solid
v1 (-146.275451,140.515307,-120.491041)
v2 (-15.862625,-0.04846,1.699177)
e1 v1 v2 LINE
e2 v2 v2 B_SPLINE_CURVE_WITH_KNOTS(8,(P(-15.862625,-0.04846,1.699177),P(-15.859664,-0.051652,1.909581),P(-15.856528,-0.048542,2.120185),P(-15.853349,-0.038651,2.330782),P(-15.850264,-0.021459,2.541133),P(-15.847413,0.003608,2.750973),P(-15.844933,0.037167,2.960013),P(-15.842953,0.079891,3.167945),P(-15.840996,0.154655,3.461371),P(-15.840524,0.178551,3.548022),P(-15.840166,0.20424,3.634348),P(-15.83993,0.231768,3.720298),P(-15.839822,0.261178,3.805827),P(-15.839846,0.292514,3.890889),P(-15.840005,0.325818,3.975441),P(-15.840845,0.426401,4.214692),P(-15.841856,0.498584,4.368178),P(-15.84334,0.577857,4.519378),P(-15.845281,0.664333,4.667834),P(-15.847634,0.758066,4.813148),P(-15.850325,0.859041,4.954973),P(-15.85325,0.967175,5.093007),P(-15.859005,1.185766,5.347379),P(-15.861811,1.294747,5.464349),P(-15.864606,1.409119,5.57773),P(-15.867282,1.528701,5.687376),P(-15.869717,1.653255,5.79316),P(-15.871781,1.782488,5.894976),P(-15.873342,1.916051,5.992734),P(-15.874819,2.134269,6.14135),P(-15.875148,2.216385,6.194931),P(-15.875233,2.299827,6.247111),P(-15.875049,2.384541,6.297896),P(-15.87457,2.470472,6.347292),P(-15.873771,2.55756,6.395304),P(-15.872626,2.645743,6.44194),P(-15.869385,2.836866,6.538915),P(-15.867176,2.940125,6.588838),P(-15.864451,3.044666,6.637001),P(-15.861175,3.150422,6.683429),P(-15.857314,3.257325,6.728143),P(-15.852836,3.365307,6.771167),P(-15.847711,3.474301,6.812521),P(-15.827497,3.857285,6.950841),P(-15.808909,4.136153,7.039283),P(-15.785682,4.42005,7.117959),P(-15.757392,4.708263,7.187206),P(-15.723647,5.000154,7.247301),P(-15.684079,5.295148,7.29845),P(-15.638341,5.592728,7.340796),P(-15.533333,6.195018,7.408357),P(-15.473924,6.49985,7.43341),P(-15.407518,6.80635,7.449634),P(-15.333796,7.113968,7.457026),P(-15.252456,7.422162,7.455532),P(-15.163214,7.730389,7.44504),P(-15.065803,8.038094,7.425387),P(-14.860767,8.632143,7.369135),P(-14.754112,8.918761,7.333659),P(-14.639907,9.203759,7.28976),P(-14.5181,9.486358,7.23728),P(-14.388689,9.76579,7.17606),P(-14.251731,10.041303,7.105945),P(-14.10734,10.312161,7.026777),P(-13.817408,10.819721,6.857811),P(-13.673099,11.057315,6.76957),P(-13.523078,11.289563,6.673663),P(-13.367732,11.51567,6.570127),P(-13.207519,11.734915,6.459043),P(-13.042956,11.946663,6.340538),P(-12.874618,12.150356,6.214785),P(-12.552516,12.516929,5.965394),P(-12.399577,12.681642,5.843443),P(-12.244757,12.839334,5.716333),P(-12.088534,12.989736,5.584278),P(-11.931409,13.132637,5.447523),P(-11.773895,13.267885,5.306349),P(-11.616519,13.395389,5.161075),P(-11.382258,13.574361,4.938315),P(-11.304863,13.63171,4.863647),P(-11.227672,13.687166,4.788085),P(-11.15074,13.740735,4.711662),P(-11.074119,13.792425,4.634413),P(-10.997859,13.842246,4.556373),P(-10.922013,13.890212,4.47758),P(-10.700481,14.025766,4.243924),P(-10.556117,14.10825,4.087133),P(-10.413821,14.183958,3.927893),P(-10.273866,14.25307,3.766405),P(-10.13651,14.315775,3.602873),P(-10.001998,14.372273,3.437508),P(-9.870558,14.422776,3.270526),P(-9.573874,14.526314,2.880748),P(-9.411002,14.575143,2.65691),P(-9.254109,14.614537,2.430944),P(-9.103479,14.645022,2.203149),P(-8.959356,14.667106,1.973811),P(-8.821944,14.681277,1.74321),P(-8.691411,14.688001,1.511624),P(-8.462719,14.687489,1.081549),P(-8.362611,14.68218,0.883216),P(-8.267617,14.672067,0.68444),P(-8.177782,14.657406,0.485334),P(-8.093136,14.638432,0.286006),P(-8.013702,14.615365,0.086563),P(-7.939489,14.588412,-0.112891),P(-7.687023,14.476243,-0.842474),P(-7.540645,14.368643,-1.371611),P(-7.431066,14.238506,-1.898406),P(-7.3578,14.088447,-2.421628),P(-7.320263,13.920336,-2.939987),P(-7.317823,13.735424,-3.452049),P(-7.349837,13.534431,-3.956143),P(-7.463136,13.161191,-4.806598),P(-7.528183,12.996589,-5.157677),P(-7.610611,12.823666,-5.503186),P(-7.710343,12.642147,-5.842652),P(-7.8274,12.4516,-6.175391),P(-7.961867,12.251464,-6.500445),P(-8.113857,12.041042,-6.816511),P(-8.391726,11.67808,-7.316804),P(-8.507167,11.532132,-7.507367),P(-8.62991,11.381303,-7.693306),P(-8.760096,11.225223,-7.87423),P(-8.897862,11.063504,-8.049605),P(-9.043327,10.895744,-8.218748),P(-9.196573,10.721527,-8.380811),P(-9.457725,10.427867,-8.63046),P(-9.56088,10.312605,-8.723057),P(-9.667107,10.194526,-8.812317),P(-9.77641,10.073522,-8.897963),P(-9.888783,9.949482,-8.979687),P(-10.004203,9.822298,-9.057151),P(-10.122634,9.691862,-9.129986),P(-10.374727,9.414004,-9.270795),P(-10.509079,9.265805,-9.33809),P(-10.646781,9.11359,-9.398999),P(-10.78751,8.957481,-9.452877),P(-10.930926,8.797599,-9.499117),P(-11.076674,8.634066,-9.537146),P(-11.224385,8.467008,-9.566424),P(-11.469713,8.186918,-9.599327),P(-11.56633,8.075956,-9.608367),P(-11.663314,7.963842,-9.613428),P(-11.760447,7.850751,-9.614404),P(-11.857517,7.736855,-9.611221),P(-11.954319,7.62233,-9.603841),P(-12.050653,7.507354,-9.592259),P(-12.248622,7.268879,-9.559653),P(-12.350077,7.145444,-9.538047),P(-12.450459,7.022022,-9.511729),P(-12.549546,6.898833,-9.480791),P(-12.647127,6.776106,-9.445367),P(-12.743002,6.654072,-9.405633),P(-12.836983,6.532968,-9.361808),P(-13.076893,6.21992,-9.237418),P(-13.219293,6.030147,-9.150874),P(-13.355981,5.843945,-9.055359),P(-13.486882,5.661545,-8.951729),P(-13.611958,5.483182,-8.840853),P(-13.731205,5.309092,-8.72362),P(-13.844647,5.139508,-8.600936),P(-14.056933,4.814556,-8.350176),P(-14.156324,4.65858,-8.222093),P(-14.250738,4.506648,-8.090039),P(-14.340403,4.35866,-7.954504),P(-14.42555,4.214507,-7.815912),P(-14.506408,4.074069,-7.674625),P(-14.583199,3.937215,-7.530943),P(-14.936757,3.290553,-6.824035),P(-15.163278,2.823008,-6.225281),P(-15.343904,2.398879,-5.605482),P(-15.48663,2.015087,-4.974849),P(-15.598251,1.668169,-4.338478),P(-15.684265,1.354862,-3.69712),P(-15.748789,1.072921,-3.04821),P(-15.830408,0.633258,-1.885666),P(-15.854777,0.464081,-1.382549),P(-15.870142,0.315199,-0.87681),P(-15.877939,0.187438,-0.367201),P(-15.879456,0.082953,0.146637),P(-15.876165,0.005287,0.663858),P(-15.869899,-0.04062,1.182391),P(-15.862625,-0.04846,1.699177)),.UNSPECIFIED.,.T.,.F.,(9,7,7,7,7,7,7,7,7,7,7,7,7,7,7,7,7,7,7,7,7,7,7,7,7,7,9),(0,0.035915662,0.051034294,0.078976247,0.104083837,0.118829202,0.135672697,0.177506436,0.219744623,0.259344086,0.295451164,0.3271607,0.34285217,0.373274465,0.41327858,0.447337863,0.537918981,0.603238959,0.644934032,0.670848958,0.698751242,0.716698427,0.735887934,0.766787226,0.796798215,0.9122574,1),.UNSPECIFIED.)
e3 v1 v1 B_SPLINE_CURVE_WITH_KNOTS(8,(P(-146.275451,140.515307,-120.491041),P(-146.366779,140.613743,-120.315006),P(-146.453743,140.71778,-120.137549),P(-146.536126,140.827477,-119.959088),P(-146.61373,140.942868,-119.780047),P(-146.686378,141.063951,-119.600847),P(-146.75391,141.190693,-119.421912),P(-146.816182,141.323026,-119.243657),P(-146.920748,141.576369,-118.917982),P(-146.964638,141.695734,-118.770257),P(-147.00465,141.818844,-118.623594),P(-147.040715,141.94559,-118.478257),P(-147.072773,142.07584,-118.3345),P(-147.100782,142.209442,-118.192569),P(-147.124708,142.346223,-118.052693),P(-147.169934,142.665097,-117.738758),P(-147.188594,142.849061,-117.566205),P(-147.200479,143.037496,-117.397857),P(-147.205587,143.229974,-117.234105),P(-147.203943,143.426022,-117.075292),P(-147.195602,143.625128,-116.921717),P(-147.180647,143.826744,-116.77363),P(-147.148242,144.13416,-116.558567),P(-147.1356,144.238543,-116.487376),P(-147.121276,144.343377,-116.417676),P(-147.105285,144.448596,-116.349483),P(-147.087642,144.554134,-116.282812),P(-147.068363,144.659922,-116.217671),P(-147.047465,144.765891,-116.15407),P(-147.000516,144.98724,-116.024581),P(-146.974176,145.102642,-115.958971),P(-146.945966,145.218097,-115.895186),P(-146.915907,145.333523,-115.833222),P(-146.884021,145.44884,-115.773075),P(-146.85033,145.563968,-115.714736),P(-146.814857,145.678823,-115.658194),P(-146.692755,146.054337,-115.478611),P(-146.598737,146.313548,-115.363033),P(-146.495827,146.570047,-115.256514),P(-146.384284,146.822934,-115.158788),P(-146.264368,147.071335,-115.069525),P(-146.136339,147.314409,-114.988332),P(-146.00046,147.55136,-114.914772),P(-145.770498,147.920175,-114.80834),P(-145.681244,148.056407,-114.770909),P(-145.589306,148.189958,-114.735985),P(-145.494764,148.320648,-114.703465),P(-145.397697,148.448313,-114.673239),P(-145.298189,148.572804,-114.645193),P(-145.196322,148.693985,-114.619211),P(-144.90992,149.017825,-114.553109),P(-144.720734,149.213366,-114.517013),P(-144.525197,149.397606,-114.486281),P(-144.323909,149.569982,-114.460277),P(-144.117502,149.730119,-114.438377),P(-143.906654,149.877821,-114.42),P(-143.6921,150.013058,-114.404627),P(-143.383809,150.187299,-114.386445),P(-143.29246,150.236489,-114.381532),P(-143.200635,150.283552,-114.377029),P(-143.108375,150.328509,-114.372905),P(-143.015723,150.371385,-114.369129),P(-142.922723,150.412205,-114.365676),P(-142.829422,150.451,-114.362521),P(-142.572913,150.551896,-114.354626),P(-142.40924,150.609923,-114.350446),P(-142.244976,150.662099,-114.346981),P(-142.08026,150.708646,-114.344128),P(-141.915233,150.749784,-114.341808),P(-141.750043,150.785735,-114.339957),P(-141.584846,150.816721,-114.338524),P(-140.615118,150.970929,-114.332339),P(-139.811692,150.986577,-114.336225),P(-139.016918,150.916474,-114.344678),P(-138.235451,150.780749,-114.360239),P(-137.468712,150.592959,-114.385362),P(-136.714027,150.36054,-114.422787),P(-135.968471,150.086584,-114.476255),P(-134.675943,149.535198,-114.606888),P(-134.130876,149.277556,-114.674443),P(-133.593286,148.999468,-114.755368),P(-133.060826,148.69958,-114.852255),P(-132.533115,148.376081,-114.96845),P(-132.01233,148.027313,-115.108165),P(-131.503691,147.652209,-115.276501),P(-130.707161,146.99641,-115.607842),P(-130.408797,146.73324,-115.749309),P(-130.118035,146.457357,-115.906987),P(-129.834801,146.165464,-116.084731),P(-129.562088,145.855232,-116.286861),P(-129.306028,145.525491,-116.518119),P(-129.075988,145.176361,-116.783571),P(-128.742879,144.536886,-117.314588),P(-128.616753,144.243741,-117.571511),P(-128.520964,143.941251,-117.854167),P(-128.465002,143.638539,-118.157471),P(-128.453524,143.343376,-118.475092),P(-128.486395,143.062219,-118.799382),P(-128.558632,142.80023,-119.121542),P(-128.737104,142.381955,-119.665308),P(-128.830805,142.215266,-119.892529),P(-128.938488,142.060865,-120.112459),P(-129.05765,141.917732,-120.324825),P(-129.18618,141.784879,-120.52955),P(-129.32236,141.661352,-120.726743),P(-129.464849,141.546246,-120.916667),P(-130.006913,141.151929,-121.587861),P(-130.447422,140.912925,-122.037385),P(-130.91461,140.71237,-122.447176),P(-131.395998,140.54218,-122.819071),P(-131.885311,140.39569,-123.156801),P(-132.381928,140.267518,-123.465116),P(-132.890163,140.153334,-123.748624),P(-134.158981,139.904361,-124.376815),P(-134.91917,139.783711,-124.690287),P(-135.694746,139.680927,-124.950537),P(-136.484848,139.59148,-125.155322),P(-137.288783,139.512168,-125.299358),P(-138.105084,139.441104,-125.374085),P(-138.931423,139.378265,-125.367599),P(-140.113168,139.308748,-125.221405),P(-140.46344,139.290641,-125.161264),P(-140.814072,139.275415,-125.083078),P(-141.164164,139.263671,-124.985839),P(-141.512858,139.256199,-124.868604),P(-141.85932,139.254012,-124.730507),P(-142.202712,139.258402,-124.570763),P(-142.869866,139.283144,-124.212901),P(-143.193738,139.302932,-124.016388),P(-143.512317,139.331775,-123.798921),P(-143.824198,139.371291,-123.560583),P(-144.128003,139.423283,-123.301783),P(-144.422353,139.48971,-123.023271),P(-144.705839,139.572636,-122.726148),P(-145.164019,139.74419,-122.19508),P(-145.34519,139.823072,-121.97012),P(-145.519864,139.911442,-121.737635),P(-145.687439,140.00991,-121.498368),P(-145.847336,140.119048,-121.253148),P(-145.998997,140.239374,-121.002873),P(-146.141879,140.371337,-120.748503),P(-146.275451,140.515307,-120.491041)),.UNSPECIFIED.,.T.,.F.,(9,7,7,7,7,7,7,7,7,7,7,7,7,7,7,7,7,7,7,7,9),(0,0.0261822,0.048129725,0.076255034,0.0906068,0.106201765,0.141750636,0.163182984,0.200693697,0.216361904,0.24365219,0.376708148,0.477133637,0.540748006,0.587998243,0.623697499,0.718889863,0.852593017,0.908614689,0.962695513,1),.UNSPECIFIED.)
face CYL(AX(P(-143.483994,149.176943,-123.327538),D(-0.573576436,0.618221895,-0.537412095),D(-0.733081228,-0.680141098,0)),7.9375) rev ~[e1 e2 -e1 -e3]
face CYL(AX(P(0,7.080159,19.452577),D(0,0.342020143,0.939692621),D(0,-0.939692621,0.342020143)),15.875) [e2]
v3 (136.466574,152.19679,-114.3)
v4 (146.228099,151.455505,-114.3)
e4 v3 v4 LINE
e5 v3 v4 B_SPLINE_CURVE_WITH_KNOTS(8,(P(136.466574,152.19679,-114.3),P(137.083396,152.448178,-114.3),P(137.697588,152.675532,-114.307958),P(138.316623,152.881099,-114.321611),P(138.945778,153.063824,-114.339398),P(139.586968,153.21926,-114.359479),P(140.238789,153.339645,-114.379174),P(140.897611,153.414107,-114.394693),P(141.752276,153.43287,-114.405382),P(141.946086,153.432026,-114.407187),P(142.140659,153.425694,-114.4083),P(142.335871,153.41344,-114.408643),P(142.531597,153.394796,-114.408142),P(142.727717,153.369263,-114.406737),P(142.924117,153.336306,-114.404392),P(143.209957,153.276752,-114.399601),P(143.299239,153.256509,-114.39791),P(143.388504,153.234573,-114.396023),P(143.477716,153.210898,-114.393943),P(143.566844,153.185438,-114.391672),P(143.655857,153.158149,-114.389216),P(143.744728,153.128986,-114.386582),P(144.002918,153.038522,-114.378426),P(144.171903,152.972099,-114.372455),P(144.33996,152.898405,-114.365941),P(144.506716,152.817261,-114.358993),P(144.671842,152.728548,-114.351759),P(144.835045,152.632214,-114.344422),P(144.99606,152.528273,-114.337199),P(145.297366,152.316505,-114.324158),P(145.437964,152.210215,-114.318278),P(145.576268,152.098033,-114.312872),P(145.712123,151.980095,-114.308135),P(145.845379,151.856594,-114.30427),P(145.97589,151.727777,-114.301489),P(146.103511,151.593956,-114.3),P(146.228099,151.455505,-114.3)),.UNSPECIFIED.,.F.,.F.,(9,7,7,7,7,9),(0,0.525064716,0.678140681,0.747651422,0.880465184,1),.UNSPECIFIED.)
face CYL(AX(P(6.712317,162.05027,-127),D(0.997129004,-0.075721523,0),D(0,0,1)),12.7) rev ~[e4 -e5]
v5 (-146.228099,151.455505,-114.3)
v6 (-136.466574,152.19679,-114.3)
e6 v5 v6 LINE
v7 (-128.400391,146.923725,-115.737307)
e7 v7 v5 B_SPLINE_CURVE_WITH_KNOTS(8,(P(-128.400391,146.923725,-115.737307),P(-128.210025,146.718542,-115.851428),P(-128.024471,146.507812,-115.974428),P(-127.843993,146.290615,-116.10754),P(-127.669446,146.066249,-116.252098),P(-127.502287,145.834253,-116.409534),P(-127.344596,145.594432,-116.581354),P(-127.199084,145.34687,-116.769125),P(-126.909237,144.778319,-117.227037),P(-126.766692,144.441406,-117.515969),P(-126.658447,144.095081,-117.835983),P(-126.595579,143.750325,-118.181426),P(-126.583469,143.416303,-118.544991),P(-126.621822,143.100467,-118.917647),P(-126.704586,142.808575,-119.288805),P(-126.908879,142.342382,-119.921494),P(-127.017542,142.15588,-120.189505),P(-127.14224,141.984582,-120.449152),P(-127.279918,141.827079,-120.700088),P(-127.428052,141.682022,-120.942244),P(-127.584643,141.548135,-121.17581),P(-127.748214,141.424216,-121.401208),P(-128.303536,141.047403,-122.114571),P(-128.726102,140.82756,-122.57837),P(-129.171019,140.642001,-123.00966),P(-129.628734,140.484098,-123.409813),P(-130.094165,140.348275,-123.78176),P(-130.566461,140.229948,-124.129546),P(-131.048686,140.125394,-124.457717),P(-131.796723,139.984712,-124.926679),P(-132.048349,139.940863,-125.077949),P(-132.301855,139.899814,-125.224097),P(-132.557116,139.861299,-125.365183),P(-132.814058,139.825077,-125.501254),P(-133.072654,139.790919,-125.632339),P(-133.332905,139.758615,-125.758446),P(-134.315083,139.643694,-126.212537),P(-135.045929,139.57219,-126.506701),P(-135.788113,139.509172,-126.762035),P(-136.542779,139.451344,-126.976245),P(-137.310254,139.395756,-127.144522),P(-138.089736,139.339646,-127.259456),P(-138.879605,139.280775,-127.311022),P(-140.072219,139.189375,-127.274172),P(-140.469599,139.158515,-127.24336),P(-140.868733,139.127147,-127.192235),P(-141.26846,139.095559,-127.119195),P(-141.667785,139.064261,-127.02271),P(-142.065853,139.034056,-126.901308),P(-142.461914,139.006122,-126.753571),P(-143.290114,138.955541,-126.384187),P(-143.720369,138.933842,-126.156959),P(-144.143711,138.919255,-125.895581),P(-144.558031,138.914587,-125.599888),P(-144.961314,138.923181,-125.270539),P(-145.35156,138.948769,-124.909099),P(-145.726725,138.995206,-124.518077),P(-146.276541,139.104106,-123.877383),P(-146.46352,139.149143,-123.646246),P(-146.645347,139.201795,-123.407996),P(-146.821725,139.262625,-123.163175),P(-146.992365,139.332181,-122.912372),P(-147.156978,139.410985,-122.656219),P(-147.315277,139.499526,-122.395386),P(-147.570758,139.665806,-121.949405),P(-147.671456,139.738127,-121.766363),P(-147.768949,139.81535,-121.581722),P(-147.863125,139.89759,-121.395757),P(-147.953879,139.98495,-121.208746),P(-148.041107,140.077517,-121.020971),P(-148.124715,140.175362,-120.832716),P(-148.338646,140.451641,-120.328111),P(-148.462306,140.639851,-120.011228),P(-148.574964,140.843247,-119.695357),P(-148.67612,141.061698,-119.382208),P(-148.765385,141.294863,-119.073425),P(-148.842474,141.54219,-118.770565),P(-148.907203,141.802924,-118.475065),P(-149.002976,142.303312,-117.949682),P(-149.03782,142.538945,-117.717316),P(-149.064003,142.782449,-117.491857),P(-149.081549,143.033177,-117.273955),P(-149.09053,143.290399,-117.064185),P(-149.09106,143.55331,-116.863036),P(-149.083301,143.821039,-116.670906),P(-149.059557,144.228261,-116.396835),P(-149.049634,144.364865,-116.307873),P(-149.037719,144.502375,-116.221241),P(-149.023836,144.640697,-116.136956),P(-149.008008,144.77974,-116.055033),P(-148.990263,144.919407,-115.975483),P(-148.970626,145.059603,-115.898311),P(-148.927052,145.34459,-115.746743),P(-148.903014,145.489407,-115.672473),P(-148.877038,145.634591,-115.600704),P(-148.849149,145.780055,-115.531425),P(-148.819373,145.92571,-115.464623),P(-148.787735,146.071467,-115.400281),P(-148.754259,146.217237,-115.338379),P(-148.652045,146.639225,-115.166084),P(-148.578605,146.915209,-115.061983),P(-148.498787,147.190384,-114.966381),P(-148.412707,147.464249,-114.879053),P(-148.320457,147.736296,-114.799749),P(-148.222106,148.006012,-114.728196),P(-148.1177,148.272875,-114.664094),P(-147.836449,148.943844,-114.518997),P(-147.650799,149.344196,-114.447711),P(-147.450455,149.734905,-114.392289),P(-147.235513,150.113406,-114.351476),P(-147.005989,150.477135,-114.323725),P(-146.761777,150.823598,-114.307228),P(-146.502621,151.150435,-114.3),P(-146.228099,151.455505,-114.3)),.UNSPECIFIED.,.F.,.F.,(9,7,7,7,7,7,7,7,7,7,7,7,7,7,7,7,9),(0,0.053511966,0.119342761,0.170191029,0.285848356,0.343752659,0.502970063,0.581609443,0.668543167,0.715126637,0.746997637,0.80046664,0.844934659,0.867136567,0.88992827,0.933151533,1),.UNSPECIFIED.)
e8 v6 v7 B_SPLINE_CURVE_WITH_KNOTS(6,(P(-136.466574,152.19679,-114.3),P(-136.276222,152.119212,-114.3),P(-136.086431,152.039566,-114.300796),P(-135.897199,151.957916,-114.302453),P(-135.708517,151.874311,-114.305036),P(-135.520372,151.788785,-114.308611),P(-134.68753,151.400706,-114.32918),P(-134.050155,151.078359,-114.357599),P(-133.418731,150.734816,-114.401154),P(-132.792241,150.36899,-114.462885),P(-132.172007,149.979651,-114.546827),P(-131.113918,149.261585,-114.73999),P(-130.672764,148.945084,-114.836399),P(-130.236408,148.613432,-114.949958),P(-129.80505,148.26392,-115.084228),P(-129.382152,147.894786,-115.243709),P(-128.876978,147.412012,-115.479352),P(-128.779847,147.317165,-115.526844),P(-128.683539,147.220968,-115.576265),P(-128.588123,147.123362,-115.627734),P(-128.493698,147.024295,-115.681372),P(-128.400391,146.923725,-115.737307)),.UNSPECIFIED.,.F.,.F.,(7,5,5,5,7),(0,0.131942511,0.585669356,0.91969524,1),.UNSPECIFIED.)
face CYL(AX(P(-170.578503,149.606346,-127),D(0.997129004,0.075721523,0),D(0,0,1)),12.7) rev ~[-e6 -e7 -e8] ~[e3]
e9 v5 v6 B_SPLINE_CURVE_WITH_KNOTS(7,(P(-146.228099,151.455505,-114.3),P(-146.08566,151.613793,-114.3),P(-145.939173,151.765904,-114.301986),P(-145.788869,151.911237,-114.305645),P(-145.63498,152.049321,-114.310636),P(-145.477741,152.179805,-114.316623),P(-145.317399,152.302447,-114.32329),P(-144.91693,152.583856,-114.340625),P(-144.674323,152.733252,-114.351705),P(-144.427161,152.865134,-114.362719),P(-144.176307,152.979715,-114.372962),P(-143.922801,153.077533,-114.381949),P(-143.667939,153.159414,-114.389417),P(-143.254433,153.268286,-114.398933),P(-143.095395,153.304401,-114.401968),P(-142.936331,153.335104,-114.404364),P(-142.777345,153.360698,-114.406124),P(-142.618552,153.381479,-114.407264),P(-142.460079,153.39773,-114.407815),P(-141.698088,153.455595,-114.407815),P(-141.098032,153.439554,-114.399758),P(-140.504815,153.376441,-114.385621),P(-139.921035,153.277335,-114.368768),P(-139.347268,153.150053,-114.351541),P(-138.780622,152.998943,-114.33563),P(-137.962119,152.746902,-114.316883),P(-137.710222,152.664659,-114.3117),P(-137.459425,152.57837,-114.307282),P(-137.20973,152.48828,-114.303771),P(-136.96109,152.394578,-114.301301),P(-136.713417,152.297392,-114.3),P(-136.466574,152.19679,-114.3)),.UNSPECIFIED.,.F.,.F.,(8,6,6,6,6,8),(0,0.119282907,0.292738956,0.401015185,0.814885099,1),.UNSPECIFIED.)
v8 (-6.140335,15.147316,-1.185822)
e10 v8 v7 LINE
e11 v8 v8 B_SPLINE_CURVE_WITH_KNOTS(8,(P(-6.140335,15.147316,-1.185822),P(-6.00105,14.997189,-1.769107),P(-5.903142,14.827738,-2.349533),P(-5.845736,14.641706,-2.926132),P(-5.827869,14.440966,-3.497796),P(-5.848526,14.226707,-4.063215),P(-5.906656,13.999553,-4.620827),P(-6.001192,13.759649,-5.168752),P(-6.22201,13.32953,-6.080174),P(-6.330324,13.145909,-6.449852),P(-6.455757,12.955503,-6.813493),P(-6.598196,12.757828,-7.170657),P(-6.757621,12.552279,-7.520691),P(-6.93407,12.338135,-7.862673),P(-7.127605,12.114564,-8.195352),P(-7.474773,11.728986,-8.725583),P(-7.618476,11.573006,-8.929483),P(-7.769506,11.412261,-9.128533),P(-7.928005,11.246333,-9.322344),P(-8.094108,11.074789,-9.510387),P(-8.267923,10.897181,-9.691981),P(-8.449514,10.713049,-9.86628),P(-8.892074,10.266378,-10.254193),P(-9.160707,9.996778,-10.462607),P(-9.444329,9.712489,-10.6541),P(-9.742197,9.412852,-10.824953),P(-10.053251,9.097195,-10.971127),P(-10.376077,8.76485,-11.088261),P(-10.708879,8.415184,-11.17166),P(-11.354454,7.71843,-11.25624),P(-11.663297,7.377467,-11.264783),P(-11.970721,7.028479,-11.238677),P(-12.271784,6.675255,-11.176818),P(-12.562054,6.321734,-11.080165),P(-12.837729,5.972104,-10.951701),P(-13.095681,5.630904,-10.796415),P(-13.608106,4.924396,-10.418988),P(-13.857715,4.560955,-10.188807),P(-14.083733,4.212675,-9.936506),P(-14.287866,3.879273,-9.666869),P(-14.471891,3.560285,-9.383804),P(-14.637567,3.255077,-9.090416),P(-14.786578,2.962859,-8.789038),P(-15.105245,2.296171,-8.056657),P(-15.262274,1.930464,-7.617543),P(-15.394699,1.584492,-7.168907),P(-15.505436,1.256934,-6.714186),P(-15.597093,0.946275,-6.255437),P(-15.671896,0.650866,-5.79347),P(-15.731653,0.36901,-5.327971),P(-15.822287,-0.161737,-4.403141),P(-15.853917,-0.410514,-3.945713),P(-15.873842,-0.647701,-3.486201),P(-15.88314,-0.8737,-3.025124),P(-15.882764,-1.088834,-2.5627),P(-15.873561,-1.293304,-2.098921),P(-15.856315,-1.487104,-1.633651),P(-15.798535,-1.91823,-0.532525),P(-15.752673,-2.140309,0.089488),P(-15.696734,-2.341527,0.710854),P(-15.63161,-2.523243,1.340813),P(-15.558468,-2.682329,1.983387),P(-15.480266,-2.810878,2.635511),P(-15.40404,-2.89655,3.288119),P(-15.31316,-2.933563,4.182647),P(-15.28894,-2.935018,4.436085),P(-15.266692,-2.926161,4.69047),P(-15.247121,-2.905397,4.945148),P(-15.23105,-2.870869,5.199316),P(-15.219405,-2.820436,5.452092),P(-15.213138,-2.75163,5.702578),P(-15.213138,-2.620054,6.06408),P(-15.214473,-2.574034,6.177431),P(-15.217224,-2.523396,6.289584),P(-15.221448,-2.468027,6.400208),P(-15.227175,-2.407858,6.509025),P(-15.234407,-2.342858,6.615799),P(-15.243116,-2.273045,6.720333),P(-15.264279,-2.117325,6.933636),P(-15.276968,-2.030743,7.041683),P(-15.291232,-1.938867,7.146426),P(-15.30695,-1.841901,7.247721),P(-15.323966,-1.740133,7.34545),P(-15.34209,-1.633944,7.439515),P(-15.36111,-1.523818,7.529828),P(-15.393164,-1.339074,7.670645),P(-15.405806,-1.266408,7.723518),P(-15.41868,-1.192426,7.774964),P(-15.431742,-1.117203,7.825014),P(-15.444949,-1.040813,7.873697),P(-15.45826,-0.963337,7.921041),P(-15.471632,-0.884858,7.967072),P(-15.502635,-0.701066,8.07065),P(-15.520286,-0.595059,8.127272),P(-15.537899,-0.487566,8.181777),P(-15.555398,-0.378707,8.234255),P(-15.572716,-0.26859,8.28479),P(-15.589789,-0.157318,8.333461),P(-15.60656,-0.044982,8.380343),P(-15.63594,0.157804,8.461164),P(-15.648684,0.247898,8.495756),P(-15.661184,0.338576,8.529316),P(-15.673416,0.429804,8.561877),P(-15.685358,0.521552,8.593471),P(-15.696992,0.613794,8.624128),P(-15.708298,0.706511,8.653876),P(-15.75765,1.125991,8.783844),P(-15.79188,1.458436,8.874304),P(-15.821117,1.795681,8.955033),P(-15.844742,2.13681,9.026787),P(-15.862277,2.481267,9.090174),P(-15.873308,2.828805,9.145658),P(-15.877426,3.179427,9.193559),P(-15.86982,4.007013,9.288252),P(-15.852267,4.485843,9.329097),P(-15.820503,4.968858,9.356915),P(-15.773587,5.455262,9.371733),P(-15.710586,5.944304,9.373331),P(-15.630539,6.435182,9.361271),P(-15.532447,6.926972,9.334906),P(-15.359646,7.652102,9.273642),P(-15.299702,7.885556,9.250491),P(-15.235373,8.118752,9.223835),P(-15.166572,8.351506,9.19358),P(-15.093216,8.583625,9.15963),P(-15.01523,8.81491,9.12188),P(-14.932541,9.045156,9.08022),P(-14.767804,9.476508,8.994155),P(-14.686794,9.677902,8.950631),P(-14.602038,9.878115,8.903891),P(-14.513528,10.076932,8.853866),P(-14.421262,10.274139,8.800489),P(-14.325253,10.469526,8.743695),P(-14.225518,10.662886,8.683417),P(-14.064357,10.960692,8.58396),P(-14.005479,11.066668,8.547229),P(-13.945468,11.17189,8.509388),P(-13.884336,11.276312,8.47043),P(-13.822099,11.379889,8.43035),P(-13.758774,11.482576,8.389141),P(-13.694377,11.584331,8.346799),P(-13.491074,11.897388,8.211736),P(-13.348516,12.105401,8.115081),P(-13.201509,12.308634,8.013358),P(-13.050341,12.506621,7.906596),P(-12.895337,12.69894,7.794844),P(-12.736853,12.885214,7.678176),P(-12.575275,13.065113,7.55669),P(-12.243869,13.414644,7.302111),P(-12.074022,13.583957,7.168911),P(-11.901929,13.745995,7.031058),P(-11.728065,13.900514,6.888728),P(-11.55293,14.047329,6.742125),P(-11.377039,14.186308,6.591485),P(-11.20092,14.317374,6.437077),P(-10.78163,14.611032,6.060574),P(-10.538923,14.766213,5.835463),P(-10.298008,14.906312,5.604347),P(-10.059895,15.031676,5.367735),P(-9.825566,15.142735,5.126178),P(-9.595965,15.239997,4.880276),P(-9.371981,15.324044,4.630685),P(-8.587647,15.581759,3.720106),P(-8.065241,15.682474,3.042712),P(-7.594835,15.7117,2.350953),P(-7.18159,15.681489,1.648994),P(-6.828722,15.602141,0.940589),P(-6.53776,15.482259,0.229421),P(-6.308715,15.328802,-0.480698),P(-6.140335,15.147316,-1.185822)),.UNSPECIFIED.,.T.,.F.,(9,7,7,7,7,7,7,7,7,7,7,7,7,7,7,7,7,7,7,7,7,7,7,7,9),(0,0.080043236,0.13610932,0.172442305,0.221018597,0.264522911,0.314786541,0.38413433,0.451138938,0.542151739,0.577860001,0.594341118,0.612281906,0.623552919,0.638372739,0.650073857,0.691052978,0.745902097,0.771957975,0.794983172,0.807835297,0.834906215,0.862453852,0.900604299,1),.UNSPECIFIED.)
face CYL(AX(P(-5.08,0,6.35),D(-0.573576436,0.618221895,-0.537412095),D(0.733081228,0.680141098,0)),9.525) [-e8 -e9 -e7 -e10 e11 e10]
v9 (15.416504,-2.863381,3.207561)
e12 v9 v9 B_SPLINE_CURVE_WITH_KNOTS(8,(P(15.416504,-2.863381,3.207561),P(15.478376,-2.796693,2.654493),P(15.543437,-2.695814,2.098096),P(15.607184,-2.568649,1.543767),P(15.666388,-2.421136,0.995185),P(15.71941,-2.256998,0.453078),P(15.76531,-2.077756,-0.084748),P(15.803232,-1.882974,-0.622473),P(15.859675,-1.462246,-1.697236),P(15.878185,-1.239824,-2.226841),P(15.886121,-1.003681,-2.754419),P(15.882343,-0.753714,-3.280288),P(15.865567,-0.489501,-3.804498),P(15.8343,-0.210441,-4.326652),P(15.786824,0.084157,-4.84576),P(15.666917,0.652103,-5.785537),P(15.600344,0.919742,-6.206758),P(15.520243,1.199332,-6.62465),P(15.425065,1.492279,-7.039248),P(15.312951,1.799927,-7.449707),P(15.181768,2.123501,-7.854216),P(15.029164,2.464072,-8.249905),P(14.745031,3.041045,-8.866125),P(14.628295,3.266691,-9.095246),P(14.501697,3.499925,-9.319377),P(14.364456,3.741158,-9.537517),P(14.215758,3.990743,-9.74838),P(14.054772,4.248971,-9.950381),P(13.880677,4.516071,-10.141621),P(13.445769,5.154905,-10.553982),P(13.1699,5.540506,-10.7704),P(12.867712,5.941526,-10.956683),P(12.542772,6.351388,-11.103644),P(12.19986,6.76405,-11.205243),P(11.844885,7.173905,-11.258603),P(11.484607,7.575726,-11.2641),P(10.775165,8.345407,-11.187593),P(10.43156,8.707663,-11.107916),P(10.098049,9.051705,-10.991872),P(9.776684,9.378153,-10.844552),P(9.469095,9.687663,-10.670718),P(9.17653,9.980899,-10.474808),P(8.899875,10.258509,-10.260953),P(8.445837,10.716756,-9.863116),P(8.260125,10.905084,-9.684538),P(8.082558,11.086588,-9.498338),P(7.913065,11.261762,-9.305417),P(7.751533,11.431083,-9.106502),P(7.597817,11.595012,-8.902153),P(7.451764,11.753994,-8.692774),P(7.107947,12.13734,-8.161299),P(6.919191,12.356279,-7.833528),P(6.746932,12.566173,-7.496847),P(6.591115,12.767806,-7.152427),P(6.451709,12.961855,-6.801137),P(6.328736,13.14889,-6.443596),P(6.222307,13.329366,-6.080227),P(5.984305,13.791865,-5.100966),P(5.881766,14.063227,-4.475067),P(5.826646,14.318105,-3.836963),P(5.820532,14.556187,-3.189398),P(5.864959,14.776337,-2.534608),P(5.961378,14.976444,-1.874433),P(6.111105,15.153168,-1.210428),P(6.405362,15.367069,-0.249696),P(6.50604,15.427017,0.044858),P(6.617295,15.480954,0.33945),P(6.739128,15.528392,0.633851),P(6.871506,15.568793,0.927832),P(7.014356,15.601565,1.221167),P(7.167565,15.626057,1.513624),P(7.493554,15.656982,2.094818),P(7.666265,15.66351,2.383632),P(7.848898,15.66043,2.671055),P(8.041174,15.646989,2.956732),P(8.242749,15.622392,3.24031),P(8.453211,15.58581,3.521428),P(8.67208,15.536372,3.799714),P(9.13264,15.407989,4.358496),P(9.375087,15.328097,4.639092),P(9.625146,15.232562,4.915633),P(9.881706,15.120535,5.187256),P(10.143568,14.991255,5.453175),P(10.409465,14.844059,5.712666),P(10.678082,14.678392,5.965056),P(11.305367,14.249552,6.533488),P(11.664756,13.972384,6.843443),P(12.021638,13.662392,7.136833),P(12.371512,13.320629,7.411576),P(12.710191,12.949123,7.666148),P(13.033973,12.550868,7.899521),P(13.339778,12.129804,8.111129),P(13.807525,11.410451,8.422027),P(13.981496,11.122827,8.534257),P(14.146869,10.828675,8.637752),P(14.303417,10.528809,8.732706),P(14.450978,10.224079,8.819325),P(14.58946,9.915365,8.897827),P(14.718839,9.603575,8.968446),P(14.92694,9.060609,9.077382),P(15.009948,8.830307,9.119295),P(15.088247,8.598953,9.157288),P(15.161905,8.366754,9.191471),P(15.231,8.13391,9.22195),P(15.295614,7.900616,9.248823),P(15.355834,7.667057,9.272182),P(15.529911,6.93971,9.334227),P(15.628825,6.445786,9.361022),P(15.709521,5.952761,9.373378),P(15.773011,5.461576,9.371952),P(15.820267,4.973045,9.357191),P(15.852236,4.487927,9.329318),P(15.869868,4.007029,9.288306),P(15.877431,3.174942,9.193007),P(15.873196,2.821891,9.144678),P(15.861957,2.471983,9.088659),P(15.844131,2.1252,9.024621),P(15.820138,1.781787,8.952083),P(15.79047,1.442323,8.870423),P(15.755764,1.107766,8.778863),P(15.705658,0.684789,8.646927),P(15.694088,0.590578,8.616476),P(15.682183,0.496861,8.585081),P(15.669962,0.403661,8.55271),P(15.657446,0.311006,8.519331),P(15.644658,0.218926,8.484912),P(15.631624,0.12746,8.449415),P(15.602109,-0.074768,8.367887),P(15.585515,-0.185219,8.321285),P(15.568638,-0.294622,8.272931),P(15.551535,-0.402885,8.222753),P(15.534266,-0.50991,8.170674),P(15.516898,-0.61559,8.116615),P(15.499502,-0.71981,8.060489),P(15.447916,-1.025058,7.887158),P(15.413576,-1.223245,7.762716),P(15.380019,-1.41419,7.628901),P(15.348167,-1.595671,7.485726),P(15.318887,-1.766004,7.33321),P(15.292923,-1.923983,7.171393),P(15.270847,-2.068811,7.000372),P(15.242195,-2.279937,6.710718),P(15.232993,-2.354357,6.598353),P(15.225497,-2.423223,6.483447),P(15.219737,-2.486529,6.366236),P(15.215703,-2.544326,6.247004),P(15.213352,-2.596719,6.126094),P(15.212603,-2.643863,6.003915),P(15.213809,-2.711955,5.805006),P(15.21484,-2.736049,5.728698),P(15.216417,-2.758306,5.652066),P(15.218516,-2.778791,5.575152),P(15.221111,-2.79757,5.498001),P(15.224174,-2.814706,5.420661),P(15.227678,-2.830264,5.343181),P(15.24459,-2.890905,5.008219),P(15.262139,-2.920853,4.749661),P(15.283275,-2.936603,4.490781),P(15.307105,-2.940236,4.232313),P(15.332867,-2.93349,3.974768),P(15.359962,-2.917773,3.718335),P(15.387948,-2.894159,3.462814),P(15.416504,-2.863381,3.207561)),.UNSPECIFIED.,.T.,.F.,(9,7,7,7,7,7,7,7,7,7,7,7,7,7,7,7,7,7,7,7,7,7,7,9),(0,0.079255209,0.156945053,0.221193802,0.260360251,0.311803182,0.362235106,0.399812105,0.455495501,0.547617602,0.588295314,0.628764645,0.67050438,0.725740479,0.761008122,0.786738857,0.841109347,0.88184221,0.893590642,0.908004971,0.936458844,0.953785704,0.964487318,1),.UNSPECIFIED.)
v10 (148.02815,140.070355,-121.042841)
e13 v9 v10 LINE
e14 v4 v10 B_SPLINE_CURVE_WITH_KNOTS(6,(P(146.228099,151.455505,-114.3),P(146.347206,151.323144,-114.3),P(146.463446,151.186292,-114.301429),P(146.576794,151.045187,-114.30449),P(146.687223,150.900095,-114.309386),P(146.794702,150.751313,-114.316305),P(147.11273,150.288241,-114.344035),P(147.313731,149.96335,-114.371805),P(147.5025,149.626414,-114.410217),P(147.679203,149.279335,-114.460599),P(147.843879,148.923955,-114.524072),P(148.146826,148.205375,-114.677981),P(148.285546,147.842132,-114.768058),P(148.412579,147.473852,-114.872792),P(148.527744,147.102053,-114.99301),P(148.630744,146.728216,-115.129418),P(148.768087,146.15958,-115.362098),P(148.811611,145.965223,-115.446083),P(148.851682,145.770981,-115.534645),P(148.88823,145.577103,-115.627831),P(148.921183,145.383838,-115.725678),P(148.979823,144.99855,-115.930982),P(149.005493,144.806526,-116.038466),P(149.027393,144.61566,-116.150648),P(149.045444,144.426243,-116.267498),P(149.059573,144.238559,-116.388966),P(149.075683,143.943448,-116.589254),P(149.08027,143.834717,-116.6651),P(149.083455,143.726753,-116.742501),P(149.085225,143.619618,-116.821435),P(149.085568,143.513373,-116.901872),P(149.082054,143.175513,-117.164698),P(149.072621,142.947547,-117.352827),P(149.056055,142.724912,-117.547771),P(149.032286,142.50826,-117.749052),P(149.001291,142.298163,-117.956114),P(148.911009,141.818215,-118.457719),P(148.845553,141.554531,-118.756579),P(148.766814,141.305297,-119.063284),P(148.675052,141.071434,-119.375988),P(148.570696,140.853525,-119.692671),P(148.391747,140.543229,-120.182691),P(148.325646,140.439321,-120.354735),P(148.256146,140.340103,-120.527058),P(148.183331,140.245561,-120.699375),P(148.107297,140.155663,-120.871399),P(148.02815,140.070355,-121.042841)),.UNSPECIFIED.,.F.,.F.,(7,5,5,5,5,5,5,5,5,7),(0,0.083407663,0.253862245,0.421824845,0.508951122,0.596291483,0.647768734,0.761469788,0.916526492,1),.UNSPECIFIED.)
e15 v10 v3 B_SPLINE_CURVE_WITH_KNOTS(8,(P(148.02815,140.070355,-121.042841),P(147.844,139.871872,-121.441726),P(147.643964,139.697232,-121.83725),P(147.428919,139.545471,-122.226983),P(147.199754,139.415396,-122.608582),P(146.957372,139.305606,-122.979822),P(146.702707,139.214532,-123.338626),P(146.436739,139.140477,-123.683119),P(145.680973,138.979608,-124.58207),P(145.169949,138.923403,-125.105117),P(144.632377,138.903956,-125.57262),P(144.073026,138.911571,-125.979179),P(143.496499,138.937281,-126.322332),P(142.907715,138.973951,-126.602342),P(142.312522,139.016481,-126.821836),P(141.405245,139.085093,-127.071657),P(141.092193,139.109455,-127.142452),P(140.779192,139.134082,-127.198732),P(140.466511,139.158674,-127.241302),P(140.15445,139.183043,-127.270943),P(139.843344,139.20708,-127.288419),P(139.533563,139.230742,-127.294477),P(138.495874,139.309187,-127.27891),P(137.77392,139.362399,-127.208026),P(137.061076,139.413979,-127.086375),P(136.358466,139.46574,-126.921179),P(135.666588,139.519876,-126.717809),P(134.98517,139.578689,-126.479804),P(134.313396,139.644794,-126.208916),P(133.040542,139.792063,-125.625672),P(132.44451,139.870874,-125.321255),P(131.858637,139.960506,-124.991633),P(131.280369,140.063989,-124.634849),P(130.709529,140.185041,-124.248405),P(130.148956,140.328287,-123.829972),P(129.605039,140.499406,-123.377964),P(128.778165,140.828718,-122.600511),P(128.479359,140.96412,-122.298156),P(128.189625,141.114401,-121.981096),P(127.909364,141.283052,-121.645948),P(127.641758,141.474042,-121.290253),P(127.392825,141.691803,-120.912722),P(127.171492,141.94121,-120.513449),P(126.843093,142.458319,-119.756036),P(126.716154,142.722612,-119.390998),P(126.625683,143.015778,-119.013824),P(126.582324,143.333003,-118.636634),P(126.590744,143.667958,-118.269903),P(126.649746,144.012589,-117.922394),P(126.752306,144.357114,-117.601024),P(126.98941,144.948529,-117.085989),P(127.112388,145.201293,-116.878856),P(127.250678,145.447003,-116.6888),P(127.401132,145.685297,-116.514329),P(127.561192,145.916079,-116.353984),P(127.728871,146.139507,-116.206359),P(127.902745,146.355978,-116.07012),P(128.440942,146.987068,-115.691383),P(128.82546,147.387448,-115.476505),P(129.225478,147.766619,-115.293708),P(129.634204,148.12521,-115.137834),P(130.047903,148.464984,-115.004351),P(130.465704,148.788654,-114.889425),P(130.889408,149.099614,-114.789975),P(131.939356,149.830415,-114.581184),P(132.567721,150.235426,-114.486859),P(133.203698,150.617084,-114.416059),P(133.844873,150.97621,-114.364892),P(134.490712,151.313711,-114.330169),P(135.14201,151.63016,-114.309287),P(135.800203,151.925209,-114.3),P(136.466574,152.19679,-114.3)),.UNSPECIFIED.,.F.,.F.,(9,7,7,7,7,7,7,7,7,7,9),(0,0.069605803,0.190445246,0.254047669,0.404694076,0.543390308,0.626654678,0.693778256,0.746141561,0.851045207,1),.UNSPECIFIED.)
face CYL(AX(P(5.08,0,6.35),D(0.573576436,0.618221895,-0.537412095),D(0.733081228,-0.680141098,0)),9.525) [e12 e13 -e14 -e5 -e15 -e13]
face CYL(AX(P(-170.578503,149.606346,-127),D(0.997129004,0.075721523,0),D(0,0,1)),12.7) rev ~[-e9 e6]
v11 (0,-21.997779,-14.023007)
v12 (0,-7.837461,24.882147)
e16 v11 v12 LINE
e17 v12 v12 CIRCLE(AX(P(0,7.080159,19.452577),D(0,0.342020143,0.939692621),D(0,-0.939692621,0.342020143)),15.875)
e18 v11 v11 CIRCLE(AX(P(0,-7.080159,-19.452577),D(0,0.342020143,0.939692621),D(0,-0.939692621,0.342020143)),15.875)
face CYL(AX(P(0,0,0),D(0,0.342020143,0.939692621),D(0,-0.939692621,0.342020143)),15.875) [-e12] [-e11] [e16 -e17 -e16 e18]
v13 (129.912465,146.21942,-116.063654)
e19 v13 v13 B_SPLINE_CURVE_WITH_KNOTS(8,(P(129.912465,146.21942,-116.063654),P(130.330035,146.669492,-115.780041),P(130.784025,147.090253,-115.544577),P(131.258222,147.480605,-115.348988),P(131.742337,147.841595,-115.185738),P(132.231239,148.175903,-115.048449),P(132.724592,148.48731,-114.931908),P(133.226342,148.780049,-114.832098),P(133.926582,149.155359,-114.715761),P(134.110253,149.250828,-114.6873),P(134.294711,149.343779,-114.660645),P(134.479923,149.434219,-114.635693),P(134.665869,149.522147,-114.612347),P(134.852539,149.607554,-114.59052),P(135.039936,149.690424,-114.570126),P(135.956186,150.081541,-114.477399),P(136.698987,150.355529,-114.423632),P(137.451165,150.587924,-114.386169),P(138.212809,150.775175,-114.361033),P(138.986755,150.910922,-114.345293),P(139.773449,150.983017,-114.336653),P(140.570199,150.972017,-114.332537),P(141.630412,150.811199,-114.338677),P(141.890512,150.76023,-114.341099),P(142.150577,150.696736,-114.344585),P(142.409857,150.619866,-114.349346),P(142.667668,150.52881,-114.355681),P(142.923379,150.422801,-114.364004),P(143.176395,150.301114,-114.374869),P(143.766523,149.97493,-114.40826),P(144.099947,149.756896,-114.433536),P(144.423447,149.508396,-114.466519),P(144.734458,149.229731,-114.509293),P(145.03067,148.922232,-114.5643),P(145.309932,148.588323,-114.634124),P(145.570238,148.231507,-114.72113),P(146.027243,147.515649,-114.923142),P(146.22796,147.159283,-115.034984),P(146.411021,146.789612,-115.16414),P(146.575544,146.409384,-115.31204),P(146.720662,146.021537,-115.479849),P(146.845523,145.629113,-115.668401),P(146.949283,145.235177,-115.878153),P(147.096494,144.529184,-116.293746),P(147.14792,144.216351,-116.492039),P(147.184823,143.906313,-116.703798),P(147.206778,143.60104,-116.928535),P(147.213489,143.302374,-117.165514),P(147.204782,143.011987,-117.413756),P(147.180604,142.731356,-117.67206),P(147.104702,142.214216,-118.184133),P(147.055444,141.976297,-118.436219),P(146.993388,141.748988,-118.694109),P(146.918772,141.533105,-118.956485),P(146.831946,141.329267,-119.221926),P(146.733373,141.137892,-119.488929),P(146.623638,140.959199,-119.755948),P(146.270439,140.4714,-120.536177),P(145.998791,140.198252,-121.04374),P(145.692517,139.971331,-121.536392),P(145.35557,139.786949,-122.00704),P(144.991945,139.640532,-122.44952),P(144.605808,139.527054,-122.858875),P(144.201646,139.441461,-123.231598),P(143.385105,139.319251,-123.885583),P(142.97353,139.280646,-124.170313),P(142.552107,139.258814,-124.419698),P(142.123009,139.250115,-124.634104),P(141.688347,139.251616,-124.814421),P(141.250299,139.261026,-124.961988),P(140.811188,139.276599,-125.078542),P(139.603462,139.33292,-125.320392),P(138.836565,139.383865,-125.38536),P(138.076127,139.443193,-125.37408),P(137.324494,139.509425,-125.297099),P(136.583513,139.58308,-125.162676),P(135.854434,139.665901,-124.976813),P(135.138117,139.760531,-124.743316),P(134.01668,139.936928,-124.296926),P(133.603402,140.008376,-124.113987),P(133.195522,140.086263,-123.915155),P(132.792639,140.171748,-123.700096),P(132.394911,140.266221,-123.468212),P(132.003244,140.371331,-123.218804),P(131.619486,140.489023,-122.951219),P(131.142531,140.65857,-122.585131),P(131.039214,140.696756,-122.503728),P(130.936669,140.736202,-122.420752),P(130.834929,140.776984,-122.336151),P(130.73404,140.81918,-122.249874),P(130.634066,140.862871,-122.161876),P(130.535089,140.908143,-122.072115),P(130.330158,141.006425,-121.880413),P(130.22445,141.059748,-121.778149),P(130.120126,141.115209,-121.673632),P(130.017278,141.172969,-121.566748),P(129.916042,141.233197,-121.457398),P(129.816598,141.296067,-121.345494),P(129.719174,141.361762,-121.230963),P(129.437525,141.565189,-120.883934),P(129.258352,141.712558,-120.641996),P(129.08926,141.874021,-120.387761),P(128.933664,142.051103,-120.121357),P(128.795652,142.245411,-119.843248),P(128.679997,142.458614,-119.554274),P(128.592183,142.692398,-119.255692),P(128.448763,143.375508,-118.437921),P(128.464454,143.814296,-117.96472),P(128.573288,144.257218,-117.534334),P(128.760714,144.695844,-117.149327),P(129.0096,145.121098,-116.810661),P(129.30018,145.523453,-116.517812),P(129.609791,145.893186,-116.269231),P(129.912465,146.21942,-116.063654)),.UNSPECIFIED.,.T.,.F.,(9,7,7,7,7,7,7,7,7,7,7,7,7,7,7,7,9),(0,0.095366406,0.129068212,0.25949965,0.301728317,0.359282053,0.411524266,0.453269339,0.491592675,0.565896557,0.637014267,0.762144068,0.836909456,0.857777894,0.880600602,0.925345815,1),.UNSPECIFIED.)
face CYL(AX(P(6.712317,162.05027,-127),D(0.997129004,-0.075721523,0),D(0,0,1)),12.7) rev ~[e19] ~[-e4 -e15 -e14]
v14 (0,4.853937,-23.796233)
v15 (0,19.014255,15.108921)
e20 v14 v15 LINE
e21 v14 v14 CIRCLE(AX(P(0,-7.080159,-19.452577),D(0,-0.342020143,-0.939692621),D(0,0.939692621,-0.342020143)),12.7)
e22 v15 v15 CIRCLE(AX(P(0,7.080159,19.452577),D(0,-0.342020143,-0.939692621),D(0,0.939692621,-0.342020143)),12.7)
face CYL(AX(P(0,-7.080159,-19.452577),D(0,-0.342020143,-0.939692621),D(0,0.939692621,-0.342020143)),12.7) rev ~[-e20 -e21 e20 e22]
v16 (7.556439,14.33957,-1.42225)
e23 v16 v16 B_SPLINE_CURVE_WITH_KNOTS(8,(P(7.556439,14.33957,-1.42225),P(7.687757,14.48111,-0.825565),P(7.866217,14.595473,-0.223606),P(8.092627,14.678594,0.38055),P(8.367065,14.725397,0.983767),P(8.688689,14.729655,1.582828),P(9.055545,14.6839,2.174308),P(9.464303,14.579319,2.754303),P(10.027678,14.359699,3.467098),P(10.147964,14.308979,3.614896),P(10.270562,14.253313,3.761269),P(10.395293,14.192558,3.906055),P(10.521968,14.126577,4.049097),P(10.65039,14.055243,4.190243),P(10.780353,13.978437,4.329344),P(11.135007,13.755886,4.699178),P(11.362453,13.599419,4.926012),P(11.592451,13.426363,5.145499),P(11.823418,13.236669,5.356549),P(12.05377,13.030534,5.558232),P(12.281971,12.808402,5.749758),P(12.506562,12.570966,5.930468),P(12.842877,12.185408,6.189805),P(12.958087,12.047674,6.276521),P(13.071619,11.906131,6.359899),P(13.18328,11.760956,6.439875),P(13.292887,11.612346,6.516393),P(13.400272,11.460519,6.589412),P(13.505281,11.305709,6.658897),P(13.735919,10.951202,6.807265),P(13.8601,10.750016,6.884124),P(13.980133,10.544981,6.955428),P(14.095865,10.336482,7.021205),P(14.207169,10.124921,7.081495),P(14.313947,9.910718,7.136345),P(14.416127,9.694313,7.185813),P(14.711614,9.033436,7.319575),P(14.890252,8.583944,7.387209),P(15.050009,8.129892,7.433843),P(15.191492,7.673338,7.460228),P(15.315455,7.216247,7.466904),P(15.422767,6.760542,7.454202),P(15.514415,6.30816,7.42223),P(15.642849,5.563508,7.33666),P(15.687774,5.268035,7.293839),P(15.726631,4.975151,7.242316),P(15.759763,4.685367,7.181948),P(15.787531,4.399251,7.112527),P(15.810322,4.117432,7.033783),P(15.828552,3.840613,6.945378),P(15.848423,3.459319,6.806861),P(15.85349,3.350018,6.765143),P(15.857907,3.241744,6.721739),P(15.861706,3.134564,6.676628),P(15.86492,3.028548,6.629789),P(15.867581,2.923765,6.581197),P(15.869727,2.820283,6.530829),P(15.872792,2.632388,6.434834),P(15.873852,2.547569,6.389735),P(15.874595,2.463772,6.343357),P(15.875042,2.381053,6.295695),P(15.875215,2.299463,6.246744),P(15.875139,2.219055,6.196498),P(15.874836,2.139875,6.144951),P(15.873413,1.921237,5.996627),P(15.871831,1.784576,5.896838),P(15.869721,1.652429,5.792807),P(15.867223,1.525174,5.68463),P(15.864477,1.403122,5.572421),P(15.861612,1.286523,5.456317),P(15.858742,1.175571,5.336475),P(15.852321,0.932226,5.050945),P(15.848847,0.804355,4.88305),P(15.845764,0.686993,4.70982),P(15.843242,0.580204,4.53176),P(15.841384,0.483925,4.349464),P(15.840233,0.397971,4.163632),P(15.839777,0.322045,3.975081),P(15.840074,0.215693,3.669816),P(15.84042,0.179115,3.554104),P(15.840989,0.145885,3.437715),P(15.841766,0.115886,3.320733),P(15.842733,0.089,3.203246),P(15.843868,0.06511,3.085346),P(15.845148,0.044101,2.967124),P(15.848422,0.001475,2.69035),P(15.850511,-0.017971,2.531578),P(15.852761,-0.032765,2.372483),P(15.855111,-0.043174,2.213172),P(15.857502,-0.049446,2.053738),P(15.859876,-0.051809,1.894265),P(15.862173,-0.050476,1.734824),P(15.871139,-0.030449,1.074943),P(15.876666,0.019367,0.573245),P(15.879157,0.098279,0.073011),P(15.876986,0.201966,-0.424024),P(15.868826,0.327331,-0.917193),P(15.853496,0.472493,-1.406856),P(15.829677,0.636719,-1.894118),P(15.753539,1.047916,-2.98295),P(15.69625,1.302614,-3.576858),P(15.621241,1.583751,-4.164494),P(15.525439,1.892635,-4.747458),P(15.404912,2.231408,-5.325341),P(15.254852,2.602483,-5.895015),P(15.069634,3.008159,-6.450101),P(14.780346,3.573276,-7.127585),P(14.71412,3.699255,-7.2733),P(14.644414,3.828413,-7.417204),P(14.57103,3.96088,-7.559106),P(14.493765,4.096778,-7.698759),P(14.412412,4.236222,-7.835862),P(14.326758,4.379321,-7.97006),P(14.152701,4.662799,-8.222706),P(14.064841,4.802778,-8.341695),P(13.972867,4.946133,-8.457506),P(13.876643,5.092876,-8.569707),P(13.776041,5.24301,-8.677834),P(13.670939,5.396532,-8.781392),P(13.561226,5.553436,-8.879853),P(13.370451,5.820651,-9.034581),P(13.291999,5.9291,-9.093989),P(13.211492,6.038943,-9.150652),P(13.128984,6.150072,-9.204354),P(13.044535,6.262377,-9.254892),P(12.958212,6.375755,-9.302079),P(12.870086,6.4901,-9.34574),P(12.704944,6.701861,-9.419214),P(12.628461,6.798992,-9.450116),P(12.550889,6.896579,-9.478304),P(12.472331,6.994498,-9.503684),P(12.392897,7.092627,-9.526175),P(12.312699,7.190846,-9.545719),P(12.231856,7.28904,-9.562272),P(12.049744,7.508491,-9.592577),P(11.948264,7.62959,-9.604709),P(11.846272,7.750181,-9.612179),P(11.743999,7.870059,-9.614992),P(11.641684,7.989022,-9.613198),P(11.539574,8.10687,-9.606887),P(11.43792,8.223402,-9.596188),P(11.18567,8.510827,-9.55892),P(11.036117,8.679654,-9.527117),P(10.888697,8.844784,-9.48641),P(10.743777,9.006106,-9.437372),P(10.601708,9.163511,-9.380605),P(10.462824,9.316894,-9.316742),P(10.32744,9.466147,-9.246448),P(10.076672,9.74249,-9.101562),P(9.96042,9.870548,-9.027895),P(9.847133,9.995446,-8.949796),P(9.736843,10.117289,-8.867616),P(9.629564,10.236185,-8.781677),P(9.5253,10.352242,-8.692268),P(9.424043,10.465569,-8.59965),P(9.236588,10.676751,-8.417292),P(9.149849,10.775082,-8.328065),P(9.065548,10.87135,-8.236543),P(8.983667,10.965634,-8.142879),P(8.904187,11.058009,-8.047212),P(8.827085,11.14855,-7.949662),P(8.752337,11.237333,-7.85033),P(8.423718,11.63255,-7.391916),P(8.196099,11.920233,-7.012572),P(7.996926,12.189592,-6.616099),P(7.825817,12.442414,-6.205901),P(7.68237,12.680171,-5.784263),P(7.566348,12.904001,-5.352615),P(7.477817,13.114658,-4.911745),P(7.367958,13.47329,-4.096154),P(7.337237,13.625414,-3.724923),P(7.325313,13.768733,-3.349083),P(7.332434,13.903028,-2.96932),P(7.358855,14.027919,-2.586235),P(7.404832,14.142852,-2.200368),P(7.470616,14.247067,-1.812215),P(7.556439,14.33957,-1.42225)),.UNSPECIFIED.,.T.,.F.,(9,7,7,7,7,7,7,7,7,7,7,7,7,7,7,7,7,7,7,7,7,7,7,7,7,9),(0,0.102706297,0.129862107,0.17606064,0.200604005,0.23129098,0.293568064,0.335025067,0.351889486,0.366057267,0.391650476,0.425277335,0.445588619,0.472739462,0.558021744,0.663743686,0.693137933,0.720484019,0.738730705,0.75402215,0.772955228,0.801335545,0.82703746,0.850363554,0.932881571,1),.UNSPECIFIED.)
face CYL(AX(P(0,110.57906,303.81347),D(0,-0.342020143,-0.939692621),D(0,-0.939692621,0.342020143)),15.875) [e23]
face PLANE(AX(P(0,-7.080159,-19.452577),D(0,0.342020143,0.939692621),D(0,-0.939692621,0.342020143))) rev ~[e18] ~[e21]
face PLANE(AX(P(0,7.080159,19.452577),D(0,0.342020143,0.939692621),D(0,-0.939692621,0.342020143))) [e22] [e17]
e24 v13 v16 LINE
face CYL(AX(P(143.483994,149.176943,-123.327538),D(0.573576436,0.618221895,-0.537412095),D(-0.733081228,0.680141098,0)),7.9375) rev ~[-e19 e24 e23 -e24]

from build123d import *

# Parameters (mm, degrees)
SKETCH1_R               = 15.875
BOSS_EXTRUDE1_DEPTH     = 20.701
SWEEP1_PROFILE_R        = 9.525
SWEEP2_PROFILE_R        = 9.525
CUT_EXTRUDE2_REACH      = 371.805
SKETCH36_R              = 7.9375
CUT_EXTRUDE3_REACH      = 371.805
CUT_EXTRUDE3_END_RADIUS = 15.875
SKETCH37_R              = 7.9375
SKETCH77_R              = 15.875
BOSS_EXTRUDE2_DEPTH     = 41.402
CUT_EXTRUDE1_REACH      = 251.445
SKETCH2_R               = 12.7
SKETCH83_R              = 12.7


with BuildPart() as part:
    # Sketch1 → Boss-Extrude1 (new, symmetric)
    with BuildSketch(Plane(origin=(0, 0, 0), x_dir=(1, 0, 0), z_dir=(0, 0.34202014332566943, 0.9396926207859081))):
        with Locations(Location((0, 0, 0), (0, 0, 270))):
            Circle(SKETCH1_R)
    extrude(amount=BOSS_EXTRUDE1_DEPTH, both=True)

    # Sweep1: sweep along a path in Sketch4
    with BuildLine(Plane(origin=(0, 3.144101118, 3.616874596), x_dir=(1, 0, 0), z_dir=(0, 0.6560590289905084, 0.754709580222771))) as sweep1_path:
        Line((-5.08, -4.165974834), (-143.483994092, 193.495413453))
    # Sweep1 profile (on start of the path) → Sweep1 (sweep)
    with BuildSketch(Plane(origin=(-5.08, 0, 6.35), x_dir=(0.7330812283825076, 0.6801410975622587, 0), z_dir=(-0.5735764363510472, 0.6182218954839692, -0.5374120947718255))):
        Circle(SWEEP1_PROFILE_R)
    sweep(path=sweep1_path.line)

    # Sweep2: sweep along a path in Sketch15
    with BuildLine(Plane(origin=(0, 3.144101118, 3.616874596), x_dir=(1, 0, 0), z_dir=(0, 0.6560590289905084, 0.754709580222771))) as sweep2_path:
        Line((5.08, -4.165974834), (143.483994092, 193.495413453))
    # Sweep2 profile (on start of the path) → Sweep2 (sweep)
    with BuildSketch(Plane(origin=(5.08, 0, 6.35), x_dir=(0.7330812283825074, -0.6801410975622589, 0), z_dir=(0.5735764363510474, 0.6182218954839692, -0.5374120947718254))):
        Circle(SWEEP2_PROFILE_R)
    sweep(path=sweep2_path.line)

    # Sketch36 → Cut-Extrude2 (cut, up to next)
    with BuildSketch(Plane(origin=(-138.117895022, 148.868575223, -129.409478119), x_dir=(0.8191108775847741, 0.4394391101382058, -0.36871484741361205), z_dir=(-0.5735764363510472, 0.6182218954839691, -0.5374120947718255)), mode=Mode.PRIVATE) as cut_extrude2_sk1:
        with Locations(Location((-6.502422539, -4.857839146, 0), (0, 0, 154.073467295))):
            Circle(SKETCH36_R)
    cut_extrude2_tool1 = extrude(cut_extrude2_sk1.sketch, amount=-CUT_EXTRUDE2_REACH, mode=Mode.PRIVATE) & part.part
    add(cut_extrude2_tool1.solids().sort_by_distance((-143.483994, 149.176943, -123.327538))[0], mode=Mode.SUBTRACT)

    # Cut-Extrude3: up to this cylinder (the profile starts outside it)
    cut_extrude3_end = Plane(origin=(0, -22.186319293, -60.956411279), z_dir=(0, -0.34202014332566943, -0.9396926207859081)) * Cylinder(CUT_EXTRUDE3_END_RADIUS, 776.36, mode=Mode.PRIVATE)
    # Sketch37 → Cut-Extrude3 (cut, up to the surface)
    with BuildSketch(Plane(origin=(138.117895022, 148.868575223, -129.409478119), x_dir=(0.8191108775847737, -0.4394391101382061, 0.36871484741361227), z_dir=(0.5735764363510476, 0.6182218954839689, -0.5374120947718255)), mode=Mode.PRIVATE) as cut_extrude3_sk1:
        with Locations(Location((6.502422539, -4.857839146, 0), (0, 0, 205.926532705))):
            Circle(SKETCH37_R)
    cut_extrude3_tool1 = extrude(cut_extrude3_sk1.sketch, amount=-CUT_EXTRUDE3_REACH, mode=Mode.PRIVATE) - cut_extrude3_end
    add(cut_extrude3_tool1.solids().sort_by_distance((143.483994, 149.176943, -123.327538))[0], mode=Mode.SUBTRACT)

    # Sketch77 → Boss-Extrude2 (add)
    with BuildSketch(Plane(origin=(0, 7.080158987, 19.452576943), x_dir=(1, 0, 0), z_dir=(0, 0.34202014332566943, 0.9396926207859082))):
        with Locations(Location((0, 0, 0), (0, 0, 270))):
            Circle(SKETCH77_R)
    extrude(amount=-BOSS_EXTRUDE2_DEPTH)

    # Sketch2 → Cut-Extrude1 (cut, up to next)
    with BuildSketch(Plane(origin=(0, -7.080158987, -19.452576943), x_dir=(-1, 0, 0), z_dir=(0, -0.34202014332566943, -0.9396926207859081)), mode=Mode.PRIVATE) as cut_extrude1_sk1:
        with Locations(Location((0, 0, 0), (0, 0, 90))):
            Circle(SKETCH2_R)
    cut_extrude1_tool1 = extrude(cut_extrude1_sk1.sketch, amount=-CUT_EXTRUDE1_REACH, mode=Mode.PRIVATE) & part.part
    add(cut_extrude1_tool1.solids().sort_by_distance((0, -7.080159, -19.452577))[0], mode=Mode.SUBTRACT)

    # Cut-Sweep1: sweep along a path in Sketch40
    with BuildLine(Plane(origin=(-106.934, 0, -127), x_dir=(1, 0, 0), z_dir=(0, 0, 1))) as cut_sweep1_path:
        Line((-63.663829669, 149.860844852), (100.20235662, 162.304768472))
        ThreePointArc((100.20235662, 162.304768472), (106.934, 162.56), (113.66564338, 162.304768472))
        Line((113.66564338, 162.304768472), (277.531829669, 149.860844852))
    # Sketch83 → Cut-Sweep1 (sweep, cut)
    with BuildSketch(Plane(origin=(170.597829669, 149.860844852, -127), x_dir=(0, 0, 1), z_dir=(-0.99712900418122, 0.07572152283577528, 0))):
        with Locations((0, -0.255231528)):
            Circle(SKETCH83_R)
    sweep(path=cut_sweep1_path.line, mode=Mode.SUBTRACT)


solid = part.part
